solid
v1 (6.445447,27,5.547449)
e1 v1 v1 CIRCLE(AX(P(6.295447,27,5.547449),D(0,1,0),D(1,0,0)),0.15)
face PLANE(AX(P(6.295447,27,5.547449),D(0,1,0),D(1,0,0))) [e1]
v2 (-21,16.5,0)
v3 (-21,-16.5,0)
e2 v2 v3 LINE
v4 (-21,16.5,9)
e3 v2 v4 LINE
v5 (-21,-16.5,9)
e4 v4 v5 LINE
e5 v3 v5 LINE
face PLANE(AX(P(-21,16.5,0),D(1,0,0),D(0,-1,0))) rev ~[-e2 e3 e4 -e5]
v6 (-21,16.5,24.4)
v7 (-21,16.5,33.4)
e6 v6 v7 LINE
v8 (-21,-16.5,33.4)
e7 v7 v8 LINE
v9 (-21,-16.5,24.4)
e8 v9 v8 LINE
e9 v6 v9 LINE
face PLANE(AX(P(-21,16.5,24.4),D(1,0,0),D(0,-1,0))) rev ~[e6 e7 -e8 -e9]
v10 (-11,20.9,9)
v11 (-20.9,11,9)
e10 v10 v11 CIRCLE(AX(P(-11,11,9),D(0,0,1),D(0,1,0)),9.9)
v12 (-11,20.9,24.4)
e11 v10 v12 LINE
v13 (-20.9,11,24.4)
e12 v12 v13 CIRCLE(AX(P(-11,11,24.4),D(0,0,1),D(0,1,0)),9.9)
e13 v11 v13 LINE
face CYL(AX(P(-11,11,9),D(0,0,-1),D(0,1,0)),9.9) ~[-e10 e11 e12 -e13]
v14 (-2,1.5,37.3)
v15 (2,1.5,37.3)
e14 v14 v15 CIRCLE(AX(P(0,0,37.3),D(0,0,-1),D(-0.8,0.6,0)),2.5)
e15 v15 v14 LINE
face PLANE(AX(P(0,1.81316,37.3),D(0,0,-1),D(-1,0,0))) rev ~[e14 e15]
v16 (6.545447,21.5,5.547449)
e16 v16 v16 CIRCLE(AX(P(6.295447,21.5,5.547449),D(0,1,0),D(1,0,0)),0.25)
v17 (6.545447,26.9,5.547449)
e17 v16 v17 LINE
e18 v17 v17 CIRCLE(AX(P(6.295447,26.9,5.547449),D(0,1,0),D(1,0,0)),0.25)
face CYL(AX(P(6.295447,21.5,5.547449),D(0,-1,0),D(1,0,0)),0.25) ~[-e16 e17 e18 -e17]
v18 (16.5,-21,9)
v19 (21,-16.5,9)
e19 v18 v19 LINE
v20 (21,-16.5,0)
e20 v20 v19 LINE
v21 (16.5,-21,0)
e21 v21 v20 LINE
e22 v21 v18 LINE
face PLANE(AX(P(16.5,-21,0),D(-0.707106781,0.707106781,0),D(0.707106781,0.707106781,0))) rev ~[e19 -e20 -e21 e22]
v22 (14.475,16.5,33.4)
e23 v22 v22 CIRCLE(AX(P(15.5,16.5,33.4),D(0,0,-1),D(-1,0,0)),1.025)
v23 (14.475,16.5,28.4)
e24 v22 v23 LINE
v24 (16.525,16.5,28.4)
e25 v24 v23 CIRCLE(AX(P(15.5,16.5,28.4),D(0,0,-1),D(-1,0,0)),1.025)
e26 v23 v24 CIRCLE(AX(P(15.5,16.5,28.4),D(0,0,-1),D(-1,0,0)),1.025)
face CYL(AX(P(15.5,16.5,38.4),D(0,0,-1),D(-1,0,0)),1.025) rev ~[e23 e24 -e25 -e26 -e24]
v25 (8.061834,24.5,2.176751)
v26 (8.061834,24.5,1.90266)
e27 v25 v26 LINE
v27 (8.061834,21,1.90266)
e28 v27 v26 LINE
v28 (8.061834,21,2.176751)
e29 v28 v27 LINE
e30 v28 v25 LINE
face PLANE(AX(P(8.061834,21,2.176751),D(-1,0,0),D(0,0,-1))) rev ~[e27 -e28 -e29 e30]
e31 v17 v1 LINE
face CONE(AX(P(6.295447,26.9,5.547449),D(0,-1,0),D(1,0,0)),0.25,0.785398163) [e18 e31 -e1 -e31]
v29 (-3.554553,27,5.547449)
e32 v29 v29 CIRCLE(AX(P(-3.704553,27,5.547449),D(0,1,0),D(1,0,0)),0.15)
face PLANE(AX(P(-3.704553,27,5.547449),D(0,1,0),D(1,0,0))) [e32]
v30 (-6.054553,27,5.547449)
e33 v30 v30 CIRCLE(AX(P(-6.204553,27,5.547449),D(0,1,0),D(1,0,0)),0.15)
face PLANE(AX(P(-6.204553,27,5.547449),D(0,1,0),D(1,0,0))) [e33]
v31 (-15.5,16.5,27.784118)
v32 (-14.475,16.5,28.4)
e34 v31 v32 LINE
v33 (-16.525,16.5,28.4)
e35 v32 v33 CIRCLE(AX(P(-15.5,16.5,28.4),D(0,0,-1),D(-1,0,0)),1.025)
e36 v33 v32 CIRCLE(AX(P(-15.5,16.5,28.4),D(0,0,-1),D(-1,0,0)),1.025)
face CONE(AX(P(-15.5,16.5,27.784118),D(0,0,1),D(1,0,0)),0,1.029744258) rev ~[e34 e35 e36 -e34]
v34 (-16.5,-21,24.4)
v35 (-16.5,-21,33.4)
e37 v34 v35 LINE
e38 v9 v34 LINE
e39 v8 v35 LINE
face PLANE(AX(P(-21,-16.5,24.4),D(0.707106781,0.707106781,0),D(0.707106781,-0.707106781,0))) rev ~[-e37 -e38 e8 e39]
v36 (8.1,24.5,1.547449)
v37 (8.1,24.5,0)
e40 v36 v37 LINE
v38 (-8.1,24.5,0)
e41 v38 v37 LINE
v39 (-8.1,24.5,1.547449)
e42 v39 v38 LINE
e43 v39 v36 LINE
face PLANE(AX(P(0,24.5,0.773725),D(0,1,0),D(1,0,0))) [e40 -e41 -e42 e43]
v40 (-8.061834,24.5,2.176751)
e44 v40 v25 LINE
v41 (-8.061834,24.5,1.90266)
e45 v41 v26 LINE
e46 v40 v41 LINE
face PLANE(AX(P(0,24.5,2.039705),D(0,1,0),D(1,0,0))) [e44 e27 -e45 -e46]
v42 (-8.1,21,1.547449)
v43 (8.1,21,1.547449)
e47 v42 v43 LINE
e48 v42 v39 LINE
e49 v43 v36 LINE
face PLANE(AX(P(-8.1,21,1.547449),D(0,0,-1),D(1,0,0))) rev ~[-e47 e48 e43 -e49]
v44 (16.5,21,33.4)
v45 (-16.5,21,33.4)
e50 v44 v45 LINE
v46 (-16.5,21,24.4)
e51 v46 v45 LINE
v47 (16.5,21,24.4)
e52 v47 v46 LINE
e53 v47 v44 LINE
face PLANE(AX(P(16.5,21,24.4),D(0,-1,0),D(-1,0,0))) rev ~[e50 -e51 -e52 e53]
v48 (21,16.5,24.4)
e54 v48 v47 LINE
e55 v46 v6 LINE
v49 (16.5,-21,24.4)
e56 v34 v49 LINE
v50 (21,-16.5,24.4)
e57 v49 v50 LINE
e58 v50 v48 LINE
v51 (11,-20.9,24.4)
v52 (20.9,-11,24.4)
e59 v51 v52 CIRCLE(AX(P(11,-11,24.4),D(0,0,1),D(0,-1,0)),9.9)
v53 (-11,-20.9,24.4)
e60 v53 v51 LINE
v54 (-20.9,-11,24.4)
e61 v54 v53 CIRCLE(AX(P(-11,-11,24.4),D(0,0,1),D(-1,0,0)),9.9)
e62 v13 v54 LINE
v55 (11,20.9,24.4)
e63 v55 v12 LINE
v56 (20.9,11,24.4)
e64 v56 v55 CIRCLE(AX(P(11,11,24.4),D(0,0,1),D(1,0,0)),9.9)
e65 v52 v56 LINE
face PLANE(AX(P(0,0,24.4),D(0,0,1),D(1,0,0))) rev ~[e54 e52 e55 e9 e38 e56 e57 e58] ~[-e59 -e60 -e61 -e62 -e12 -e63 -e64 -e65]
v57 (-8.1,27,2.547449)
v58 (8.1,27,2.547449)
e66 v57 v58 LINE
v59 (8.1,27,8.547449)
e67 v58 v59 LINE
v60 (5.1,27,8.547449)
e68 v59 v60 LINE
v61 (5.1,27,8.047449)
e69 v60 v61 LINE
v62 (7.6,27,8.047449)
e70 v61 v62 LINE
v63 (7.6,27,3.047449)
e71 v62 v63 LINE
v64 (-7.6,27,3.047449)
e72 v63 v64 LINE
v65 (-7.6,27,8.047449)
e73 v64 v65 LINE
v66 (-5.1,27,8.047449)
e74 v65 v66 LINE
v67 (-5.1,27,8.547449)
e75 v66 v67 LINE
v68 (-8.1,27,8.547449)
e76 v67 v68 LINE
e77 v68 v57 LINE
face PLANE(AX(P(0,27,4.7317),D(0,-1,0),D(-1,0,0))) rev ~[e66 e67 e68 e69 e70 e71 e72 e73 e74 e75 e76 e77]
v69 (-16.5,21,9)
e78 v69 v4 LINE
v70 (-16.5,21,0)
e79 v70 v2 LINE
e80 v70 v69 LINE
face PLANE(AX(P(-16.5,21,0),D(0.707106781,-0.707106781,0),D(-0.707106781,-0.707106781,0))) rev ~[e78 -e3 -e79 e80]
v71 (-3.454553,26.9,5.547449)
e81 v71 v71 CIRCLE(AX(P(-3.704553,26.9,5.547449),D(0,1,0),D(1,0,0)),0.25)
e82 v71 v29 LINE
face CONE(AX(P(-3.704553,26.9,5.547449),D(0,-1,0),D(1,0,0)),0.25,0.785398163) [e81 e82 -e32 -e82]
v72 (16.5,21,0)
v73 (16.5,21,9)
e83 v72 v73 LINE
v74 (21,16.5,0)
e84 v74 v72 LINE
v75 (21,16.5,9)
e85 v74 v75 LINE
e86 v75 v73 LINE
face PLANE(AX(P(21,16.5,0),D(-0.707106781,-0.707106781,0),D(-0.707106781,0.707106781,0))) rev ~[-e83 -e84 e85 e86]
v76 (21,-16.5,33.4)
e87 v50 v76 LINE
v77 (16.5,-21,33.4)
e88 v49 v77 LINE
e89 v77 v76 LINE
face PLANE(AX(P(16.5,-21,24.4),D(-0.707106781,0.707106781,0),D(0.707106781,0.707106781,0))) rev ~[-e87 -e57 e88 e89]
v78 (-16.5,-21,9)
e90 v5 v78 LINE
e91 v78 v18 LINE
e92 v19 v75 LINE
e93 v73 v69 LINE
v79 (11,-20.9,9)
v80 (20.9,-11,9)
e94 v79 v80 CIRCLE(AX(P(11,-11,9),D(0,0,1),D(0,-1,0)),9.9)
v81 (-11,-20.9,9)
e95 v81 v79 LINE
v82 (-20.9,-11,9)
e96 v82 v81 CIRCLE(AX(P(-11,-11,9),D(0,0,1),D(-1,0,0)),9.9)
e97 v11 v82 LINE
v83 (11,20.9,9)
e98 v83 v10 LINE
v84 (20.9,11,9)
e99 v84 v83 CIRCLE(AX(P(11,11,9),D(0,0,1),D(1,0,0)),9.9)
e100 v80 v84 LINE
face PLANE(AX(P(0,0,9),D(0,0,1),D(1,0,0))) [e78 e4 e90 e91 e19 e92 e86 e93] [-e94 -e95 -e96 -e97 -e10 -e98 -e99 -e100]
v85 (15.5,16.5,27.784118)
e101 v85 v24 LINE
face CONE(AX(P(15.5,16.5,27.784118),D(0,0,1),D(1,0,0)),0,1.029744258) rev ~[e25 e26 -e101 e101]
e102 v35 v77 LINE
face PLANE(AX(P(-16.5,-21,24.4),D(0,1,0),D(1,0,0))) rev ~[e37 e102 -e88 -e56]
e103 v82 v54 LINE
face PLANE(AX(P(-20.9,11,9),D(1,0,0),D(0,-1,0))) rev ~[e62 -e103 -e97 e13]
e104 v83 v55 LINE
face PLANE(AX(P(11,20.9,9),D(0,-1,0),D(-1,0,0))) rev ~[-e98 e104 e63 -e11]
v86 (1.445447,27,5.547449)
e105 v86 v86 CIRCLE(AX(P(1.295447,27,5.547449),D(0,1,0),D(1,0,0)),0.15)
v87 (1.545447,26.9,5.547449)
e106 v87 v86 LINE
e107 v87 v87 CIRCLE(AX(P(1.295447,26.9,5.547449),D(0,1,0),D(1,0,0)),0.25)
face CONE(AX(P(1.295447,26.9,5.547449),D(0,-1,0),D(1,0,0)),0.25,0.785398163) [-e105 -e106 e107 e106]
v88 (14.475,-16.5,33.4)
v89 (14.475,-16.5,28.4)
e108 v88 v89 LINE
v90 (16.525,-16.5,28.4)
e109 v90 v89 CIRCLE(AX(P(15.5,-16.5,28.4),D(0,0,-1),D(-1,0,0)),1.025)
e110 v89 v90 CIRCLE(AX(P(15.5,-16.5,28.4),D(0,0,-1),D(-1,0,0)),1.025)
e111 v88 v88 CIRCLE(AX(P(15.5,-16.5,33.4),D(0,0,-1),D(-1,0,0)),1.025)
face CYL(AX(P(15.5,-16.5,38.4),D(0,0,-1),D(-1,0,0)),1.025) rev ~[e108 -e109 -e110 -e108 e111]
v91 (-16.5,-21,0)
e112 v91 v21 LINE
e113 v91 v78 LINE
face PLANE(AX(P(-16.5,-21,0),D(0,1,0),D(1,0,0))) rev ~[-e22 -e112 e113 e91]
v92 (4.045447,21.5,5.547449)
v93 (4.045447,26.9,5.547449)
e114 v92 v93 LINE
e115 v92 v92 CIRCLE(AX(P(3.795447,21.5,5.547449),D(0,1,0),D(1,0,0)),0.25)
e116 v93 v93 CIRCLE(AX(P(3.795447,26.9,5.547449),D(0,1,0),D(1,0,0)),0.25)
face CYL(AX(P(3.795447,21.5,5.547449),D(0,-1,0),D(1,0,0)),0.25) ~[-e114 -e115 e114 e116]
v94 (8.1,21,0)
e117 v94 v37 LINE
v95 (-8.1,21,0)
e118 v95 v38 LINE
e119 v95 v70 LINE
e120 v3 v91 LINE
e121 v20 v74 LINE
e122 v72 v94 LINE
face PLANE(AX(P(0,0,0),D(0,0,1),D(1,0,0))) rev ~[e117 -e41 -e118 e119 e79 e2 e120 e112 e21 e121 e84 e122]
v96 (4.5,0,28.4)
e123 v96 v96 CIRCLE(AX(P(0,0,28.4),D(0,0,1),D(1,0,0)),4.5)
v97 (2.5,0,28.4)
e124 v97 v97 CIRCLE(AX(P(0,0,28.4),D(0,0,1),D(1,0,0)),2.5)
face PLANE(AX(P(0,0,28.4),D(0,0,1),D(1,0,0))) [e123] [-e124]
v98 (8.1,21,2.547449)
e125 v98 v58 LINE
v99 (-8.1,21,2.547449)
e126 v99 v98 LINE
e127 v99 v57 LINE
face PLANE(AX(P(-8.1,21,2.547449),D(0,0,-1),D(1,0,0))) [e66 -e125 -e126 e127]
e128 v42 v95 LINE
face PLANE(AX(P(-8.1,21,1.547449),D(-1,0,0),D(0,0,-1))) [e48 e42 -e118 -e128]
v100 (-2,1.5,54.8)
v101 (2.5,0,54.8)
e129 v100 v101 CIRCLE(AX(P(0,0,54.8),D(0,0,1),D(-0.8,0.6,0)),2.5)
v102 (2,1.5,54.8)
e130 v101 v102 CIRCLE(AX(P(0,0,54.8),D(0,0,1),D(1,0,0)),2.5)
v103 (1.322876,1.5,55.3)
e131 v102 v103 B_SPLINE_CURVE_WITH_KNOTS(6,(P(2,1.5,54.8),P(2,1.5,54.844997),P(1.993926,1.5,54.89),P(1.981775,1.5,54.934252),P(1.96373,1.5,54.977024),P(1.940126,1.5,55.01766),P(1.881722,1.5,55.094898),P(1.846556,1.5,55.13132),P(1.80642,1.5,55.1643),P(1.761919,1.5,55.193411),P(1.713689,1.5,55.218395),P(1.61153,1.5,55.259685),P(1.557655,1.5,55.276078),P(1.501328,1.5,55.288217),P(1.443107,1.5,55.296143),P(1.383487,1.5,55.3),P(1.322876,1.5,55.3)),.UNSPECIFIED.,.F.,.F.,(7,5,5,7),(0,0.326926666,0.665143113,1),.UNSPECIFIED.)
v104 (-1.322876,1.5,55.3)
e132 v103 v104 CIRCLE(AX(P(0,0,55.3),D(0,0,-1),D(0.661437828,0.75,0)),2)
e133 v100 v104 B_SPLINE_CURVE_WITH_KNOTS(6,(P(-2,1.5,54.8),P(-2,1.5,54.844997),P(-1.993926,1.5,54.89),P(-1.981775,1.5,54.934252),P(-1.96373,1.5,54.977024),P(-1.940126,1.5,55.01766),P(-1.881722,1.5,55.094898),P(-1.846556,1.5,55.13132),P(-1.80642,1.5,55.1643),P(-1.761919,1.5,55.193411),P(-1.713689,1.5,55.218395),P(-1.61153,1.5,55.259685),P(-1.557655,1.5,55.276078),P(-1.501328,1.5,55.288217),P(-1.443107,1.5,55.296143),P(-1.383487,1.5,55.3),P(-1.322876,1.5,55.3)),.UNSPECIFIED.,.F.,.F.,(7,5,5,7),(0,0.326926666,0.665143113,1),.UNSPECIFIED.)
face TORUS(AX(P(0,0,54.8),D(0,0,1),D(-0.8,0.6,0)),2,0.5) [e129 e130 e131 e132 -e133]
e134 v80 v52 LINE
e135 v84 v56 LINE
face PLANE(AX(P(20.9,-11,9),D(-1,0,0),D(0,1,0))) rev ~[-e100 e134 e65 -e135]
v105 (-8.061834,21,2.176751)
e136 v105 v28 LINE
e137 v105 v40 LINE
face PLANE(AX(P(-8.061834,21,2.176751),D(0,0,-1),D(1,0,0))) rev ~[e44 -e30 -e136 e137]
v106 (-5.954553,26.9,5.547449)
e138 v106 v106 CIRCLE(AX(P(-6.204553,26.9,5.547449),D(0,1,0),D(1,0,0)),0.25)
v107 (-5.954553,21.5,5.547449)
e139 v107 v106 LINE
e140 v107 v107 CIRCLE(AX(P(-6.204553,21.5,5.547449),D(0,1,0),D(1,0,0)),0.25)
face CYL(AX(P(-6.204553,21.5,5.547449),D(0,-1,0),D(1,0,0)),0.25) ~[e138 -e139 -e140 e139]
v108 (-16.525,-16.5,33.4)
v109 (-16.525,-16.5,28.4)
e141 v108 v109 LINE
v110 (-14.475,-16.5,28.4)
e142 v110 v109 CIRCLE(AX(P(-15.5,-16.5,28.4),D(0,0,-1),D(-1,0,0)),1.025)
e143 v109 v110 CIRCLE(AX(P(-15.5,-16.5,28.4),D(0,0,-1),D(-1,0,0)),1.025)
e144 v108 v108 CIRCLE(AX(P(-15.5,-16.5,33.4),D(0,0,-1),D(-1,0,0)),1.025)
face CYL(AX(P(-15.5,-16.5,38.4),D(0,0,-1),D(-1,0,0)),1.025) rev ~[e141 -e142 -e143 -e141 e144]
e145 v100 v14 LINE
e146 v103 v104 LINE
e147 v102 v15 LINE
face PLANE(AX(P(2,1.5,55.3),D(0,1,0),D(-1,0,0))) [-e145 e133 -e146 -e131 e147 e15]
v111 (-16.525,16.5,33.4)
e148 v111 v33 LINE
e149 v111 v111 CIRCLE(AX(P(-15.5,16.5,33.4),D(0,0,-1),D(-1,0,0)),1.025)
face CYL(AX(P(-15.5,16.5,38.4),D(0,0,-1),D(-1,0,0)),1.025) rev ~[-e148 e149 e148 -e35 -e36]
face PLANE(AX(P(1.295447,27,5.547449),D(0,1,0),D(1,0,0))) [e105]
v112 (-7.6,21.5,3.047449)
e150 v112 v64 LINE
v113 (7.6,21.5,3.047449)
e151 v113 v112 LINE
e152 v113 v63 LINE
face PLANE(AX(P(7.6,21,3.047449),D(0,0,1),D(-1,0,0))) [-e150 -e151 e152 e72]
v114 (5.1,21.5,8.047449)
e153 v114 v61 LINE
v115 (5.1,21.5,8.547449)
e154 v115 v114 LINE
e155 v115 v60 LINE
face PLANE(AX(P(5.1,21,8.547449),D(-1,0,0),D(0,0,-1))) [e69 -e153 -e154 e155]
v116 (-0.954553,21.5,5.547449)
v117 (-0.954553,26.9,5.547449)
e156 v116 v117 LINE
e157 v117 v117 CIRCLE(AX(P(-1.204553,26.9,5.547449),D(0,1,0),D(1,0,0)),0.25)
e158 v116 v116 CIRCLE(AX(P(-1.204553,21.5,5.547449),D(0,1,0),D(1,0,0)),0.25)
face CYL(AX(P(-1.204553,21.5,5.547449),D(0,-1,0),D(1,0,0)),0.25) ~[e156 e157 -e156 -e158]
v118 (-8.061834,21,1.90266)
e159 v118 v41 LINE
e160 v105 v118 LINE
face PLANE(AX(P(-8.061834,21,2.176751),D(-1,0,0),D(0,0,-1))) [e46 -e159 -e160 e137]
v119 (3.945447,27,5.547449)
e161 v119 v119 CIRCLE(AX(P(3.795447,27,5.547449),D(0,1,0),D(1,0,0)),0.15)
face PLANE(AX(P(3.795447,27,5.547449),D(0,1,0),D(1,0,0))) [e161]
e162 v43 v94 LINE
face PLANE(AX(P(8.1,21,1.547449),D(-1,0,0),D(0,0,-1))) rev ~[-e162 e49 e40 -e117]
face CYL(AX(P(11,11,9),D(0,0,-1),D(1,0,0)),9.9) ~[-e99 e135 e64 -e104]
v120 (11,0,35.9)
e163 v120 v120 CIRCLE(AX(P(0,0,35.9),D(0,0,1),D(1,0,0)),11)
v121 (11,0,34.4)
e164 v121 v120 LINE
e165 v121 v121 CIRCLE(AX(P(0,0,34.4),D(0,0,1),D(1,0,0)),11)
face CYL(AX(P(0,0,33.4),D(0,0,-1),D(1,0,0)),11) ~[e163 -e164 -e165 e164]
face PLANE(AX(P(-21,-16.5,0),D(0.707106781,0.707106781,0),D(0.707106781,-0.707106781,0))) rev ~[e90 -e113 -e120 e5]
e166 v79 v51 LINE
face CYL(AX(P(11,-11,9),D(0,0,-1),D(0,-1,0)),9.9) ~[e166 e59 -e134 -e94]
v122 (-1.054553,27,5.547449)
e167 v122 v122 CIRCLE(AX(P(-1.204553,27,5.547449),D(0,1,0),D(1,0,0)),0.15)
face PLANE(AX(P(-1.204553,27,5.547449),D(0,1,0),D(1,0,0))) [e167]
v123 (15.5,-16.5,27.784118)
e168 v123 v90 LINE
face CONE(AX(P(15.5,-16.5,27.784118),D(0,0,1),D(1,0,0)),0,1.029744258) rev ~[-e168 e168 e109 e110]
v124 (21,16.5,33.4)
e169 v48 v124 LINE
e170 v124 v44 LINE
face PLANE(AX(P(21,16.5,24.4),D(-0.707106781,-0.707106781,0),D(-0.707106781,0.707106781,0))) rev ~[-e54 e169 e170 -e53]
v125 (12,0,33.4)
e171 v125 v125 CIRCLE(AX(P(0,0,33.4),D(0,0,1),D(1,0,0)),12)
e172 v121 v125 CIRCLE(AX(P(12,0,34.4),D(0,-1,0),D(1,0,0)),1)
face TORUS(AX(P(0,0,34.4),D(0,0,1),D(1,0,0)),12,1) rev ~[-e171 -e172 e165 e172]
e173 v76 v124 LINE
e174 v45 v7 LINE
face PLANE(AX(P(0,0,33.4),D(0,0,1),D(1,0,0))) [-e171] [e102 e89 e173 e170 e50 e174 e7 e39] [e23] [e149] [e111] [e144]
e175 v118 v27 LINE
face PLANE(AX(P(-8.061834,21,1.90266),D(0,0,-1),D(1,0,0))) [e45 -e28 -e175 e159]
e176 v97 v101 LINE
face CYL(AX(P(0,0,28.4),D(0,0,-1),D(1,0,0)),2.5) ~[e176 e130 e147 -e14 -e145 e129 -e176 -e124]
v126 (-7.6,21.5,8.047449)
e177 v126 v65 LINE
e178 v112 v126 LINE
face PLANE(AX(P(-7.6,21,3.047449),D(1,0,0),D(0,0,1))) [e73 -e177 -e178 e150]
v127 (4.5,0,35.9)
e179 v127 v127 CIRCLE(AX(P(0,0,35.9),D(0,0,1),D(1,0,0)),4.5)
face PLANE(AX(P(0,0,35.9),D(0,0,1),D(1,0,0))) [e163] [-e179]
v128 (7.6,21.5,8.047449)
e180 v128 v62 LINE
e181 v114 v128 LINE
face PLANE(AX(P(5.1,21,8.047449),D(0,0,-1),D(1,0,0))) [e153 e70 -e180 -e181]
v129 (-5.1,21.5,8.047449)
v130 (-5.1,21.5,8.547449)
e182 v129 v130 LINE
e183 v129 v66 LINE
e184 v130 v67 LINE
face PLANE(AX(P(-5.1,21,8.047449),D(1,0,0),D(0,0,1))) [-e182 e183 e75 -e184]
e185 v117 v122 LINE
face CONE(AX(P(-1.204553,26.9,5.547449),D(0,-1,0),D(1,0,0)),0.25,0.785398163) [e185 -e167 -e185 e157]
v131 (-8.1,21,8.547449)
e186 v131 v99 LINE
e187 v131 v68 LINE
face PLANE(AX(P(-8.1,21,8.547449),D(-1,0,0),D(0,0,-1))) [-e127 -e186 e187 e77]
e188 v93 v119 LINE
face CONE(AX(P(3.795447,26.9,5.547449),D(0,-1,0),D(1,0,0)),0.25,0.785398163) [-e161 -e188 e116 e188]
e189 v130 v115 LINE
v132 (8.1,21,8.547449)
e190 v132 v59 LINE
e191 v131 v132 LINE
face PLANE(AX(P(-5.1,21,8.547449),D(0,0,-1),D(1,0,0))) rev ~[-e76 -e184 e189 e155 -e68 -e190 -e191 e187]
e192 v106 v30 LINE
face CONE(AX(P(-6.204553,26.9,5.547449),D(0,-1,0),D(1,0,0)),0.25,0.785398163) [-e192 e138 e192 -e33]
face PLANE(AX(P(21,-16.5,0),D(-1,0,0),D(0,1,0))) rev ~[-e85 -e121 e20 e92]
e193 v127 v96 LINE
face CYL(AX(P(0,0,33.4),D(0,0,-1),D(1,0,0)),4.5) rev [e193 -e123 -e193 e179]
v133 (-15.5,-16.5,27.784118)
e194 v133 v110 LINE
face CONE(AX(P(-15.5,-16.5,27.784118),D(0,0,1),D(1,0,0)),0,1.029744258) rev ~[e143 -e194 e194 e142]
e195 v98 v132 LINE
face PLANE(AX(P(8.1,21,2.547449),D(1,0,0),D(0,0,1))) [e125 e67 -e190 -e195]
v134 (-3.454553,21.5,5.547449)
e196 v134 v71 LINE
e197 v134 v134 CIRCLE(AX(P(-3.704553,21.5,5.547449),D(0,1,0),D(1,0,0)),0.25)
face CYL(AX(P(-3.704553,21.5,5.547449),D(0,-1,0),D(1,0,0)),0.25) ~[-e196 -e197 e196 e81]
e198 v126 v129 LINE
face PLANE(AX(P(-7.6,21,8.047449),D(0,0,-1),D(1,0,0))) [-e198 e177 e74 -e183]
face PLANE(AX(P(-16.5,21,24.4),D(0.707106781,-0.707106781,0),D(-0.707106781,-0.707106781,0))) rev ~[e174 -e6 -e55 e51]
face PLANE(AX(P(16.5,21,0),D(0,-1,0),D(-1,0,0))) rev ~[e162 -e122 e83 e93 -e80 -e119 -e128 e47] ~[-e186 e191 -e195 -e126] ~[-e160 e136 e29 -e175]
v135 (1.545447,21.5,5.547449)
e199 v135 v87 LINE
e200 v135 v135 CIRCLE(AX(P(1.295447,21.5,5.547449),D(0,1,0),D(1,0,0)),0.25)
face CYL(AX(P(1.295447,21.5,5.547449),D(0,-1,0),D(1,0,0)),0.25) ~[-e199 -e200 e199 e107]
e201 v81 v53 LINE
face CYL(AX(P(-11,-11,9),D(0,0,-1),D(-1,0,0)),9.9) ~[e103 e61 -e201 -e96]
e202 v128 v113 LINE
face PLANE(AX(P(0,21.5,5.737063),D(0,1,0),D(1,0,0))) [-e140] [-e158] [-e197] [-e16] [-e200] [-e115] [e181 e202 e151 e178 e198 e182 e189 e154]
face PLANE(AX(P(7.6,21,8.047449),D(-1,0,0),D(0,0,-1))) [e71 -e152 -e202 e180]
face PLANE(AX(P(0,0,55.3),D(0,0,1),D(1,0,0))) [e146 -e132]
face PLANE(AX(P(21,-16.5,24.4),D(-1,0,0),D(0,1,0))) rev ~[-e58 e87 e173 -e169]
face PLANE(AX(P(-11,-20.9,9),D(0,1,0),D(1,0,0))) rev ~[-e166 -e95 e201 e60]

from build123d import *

# Parameters (mm, degrees)
BOSS_EXTRUDE1_DEPTH                = 9
BOSS_EXTRUDE2_DEPTH                = 15.4
BOSS_EXTRUDE3_DEPTH                = 9
SKETCH4_R                          = 4.5
CUT_EXTRUDE1_DEPTH                 = 5
SKETCH5_R                          = 2.5
BOSS_EXTRUDE4_DEPTH                = 26.9
SKETCH6_W                          = 16.2
SKETCH6_H                          = 1.547449217
BOSS_EXTRUDE5_DEPTH                = 3.5
EXTRUDE_THIN4_DEPTH                = 6
BOSS_EXTRUDE7_DEPTH                = 0.5
SKETCH9_W                          = 16.123667198
SKETCH9_H                          = 0.274090176
BOSS_EXTRUDE8_DEPTH                = 3.5
SKETCH10_R                         = 0.25
BOSS_EXTRUDE9_DEPTH                = 5.5
CHAMFER1_SIZE                      = 0.1
SKETCH11_R                         = 11
SKETCH11_R_2                       = 4.5
BOSS_EXTRUDE10_DEPTH               = 2.5
FILLET1_R                          = 1
CUT_EXTRUDE2_DEPTH                 = 18
FILLET2_R                          = 0.5
TAP_DRILL_FOR_M2_5X0_45_TAP2_D     = 2.05
TAP_DRILL_FOR_M2_5X0_45_TAP2_DEPTH = 5
TAP_DRILL_FOR_M2_5X0_45_TAP2_TIP   = 0.615882135


with BuildPart() as part:
    # Sketch1 → Boss-Extrude1 (new body)
    with BuildSketch(Plane.XY):
        Polygon((21, 16.5), (16.5, 21), (-16.5, 21), (-21, 16.5), (-21, -16.5), (-16.5, -21), (16.5, -21), (21, -16.5), align=None)
    extrude(amount=BOSS_EXTRUDE1_DEPTH)

    # Sketch2 → Boss-Extrude2 (add)
    with BuildSketch(Plane.XY.offset(9)):
        with BuildLine():
            Line((11, 20.9), (-11, 20.9))
            ThreePointArc((-11, 20.9), (-18.000357134, 18.000357134), (-20.9, 11))
            Line((-20.9, 11), (-20.9, -11))
            ThreePointArc((-20.9, -11), (-18.000357134, -18.000357134), (-11, -20.9))
            Line((-11, -20.9), (11, -20.9))
            ThreePointArc((11, -20.9), (18.000357134, -18.000357134), (20.9, -11))
            Line((20.9, -11), (20.9, 11))
            ThreePointArc((20.9, 11), (18.000357134, 18.000357134), (11, 20.9))
        make_face()
    extrude(amount=BOSS_EXTRUDE2_DEPTH)

    # Sketch3 → Boss-Extrude3 (add)
    with BuildSketch(Plane.XY.offset(24.4)):
        Polygon((21, -16.5), (21, 16.5), (16.5, 21), (-16.5, 21), (-21, 16.5), (-21, -16.5), (-16.5, -21), (16.5, -21), align=None)
    extrude(amount=BOSS_EXTRUDE3_DEPTH)

    # Sketch4 → Cut-Extrude1 (cut)
    with BuildSketch(Plane.XY.offset(33.4)):
        Circle(SKETCH4_R)
    extrude(amount=-CUT_EXTRUDE1_DEPTH, mode=Mode.SUBTRACT)

    # Sketch5 → Boss-Extrude4 (add)
    with BuildSketch(Plane.XY.offset(28.4)):
        Circle(SKETCH5_R)
    extrude(amount=BOSS_EXTRUDE4_DEPTH)

    # Sketch6 → Boss-Extrude5 (add)
    with BuildSketch(Plane(origin=(0, 21, 0), x_dir=(1, 0, 0), z_dir=(0, 1, 0))):
        with Locations((0, -0.773724609)):
            Rectangle(SKETCH6_W, SKETCH6_H)
    extrude(amount=BOSS_EXTRUDE5_DEPTH)

    # Sketch7 → Extrude-Thin4 (add)
    with BuildSketch(Plane(origin=(0, 21, 0), x_dir=(1, 0, 0), z_dir=(0, 1, 0))):
        Polygon((-5.1, -8.547449217), (-8.1, -8.547449217), (-8.1, -2.547449217), (8.1, -2.547449217), (8.1, -8.547449217), (5.1, -8.547449217), (5.1, -8.047449217), (7.6, -8.047449217), (7.6, -3.047449217), (-7.6, -3.047449217), (-7.6, -8.047449217), (-5.1, -8.047449217), align=None)
    extrude(amount=EXTRUDE_THIN4_DEPTH)

    # Sketch8 → Boss-Extrude7 (add)
    with BuildSketch(Plane(origin=(0, 21, 0), x_dir=(1, 0, 0), z_dir=(0, 1, 0))):
        Polygon((-5.1, -8.047449217), (-5.1, -8.547449217), (5.1, -8.547449217), (5.1, -8.047449217), (7.6, -8.047449217), (7.6, -3.047449217), (-7.6, -3.047449217), (-7.6, -8.047449217), align=None)
    extrude(amount=BOSS_EXTRUDE7_DEPTH)

    # Sketch9 → Boss-Extrude8 (add)
    with BuildSketch(Plane(origin=(0, 21, 0), x_dir=(1, 0, 0), z_dir=(0, 1, 0))):
        with Locations((0, -2.039705449)):
            Rectangle(SKETCH9_W, SKETCH9_H)
    extrude(amount=BOSS_EXTRUDE8_DEPTH)

    # Sketch10 → Boss-Extrude9 (add)
    with BuildSketch(Plane(origin=(0, 21.5, 0), x_dir=(1, 0, 0), z_dir=(0, 1, 0))):
        with Locations((-6.204552759, -5.547449217)):
            Circle(SKETCH10_R)
        with Locations((-3.704552759, -5.547449217)):
            Circle(SKETCH10_R)
        with Locations((-1.204552759, -5.547449217)):
            Circle(SKETCH10_R)
        with Locations((1.295447241, -5.547449217)):
            Circle(SKETCH10_R)
        with Locations((3.795447241, -5.547449217)):
            Circle(SKETCH10_R)
        with Locations((6.295447241, -5.547449217)):
            Circle(SKETCH10_R)
    extrude(amount=BOSS_EXTRUDE9_DEPTH)

    # Chamfer1
    chamfer1_edges = [part.edges().sort_by_distance(p)[0] for p in [
        (-6.454552759, 27, 5.547449217),
        (-3.954552759, 27, 5.547449217),
        (-1.454552759, 27, 5.547449217),
        (1.045447241, 27, 5.547449217),
        (3.545447241, 27, 5.547449217),
        (6.045447241, 27, 5.547449217),
    ]]
    chamfer(chamfer1_edges, length=CHAMFER1_SIZE)

    # Sketch11 → Boss-Extrude10 (add)
    with BuildSketch(Plane.XY.offset(33.4)):
        Circle(SKETCH11_R)
        Circle(SKETCH11_R_2, mode=Mode.SUBTRACT)
    extrude(amount=BOSS_EXTRUDE10_DEPTH)

    # Fillet1
    fillet1_edges = [part.edges().sort_by_distance(p)[0] for p in [
        (-11, 0, 33.4),
    ]]
    fillet(fillet1_edges, radius=FILLET1_R)

    # Sketch12 → Cut-Extrude2 (cut)
    with BuildSketch(Plane.XY.offset(55.3)):
        with BuildLine():
            Line((2, 1.5), (-2, 1.5))
            ThreePointArc((-2, 1.5), (0, 2.5), (2, 1.5))
        make_face()
    extrude(amount=-CUT_EXTRUDE2_DEPTH, mode=Mode.SUBTRACT)

    # Fillet2
    fillet2_edges = [part.edges().sort_by_distance(p)[0] for p in [
        (-0.790569415, -2.371708245, 55.3),
    ]]
    fillet(fillet2_edges, radius=FILLET2_R)

    # Tap Drill for M2.5x0.45 Tap2
    with Locations(Plane.XY.offset(33.4)):
        with Locations((15.5, 16.5), (15.5, -16.5), (-15.5, -16.5), (-15.5, 16.5)):
            Hole(TAP_DRILL_FOR_M2_5X0_45_TAP2_D / 2, depth=TAP_DRILL_FOR_M2_5X0_45_TAP2_DEPTH)
            with Locations((0, 0, -(TAP_DRILL_FOR_M2_5X0_45_TAP2_DEPTH + TAP_DRILL_FOR_M2_5X0_45_TAP2_TIP / 2))):  # 118° drill point
                Cone(0, TAP_DRILL_FOR_M2_5X0_45_TAP2_D / 2, TAP_DRILL_FOR_M2_5X0_45_TAP2_TIP, mode=Mode.SUBTRACT)


solid = part.part
